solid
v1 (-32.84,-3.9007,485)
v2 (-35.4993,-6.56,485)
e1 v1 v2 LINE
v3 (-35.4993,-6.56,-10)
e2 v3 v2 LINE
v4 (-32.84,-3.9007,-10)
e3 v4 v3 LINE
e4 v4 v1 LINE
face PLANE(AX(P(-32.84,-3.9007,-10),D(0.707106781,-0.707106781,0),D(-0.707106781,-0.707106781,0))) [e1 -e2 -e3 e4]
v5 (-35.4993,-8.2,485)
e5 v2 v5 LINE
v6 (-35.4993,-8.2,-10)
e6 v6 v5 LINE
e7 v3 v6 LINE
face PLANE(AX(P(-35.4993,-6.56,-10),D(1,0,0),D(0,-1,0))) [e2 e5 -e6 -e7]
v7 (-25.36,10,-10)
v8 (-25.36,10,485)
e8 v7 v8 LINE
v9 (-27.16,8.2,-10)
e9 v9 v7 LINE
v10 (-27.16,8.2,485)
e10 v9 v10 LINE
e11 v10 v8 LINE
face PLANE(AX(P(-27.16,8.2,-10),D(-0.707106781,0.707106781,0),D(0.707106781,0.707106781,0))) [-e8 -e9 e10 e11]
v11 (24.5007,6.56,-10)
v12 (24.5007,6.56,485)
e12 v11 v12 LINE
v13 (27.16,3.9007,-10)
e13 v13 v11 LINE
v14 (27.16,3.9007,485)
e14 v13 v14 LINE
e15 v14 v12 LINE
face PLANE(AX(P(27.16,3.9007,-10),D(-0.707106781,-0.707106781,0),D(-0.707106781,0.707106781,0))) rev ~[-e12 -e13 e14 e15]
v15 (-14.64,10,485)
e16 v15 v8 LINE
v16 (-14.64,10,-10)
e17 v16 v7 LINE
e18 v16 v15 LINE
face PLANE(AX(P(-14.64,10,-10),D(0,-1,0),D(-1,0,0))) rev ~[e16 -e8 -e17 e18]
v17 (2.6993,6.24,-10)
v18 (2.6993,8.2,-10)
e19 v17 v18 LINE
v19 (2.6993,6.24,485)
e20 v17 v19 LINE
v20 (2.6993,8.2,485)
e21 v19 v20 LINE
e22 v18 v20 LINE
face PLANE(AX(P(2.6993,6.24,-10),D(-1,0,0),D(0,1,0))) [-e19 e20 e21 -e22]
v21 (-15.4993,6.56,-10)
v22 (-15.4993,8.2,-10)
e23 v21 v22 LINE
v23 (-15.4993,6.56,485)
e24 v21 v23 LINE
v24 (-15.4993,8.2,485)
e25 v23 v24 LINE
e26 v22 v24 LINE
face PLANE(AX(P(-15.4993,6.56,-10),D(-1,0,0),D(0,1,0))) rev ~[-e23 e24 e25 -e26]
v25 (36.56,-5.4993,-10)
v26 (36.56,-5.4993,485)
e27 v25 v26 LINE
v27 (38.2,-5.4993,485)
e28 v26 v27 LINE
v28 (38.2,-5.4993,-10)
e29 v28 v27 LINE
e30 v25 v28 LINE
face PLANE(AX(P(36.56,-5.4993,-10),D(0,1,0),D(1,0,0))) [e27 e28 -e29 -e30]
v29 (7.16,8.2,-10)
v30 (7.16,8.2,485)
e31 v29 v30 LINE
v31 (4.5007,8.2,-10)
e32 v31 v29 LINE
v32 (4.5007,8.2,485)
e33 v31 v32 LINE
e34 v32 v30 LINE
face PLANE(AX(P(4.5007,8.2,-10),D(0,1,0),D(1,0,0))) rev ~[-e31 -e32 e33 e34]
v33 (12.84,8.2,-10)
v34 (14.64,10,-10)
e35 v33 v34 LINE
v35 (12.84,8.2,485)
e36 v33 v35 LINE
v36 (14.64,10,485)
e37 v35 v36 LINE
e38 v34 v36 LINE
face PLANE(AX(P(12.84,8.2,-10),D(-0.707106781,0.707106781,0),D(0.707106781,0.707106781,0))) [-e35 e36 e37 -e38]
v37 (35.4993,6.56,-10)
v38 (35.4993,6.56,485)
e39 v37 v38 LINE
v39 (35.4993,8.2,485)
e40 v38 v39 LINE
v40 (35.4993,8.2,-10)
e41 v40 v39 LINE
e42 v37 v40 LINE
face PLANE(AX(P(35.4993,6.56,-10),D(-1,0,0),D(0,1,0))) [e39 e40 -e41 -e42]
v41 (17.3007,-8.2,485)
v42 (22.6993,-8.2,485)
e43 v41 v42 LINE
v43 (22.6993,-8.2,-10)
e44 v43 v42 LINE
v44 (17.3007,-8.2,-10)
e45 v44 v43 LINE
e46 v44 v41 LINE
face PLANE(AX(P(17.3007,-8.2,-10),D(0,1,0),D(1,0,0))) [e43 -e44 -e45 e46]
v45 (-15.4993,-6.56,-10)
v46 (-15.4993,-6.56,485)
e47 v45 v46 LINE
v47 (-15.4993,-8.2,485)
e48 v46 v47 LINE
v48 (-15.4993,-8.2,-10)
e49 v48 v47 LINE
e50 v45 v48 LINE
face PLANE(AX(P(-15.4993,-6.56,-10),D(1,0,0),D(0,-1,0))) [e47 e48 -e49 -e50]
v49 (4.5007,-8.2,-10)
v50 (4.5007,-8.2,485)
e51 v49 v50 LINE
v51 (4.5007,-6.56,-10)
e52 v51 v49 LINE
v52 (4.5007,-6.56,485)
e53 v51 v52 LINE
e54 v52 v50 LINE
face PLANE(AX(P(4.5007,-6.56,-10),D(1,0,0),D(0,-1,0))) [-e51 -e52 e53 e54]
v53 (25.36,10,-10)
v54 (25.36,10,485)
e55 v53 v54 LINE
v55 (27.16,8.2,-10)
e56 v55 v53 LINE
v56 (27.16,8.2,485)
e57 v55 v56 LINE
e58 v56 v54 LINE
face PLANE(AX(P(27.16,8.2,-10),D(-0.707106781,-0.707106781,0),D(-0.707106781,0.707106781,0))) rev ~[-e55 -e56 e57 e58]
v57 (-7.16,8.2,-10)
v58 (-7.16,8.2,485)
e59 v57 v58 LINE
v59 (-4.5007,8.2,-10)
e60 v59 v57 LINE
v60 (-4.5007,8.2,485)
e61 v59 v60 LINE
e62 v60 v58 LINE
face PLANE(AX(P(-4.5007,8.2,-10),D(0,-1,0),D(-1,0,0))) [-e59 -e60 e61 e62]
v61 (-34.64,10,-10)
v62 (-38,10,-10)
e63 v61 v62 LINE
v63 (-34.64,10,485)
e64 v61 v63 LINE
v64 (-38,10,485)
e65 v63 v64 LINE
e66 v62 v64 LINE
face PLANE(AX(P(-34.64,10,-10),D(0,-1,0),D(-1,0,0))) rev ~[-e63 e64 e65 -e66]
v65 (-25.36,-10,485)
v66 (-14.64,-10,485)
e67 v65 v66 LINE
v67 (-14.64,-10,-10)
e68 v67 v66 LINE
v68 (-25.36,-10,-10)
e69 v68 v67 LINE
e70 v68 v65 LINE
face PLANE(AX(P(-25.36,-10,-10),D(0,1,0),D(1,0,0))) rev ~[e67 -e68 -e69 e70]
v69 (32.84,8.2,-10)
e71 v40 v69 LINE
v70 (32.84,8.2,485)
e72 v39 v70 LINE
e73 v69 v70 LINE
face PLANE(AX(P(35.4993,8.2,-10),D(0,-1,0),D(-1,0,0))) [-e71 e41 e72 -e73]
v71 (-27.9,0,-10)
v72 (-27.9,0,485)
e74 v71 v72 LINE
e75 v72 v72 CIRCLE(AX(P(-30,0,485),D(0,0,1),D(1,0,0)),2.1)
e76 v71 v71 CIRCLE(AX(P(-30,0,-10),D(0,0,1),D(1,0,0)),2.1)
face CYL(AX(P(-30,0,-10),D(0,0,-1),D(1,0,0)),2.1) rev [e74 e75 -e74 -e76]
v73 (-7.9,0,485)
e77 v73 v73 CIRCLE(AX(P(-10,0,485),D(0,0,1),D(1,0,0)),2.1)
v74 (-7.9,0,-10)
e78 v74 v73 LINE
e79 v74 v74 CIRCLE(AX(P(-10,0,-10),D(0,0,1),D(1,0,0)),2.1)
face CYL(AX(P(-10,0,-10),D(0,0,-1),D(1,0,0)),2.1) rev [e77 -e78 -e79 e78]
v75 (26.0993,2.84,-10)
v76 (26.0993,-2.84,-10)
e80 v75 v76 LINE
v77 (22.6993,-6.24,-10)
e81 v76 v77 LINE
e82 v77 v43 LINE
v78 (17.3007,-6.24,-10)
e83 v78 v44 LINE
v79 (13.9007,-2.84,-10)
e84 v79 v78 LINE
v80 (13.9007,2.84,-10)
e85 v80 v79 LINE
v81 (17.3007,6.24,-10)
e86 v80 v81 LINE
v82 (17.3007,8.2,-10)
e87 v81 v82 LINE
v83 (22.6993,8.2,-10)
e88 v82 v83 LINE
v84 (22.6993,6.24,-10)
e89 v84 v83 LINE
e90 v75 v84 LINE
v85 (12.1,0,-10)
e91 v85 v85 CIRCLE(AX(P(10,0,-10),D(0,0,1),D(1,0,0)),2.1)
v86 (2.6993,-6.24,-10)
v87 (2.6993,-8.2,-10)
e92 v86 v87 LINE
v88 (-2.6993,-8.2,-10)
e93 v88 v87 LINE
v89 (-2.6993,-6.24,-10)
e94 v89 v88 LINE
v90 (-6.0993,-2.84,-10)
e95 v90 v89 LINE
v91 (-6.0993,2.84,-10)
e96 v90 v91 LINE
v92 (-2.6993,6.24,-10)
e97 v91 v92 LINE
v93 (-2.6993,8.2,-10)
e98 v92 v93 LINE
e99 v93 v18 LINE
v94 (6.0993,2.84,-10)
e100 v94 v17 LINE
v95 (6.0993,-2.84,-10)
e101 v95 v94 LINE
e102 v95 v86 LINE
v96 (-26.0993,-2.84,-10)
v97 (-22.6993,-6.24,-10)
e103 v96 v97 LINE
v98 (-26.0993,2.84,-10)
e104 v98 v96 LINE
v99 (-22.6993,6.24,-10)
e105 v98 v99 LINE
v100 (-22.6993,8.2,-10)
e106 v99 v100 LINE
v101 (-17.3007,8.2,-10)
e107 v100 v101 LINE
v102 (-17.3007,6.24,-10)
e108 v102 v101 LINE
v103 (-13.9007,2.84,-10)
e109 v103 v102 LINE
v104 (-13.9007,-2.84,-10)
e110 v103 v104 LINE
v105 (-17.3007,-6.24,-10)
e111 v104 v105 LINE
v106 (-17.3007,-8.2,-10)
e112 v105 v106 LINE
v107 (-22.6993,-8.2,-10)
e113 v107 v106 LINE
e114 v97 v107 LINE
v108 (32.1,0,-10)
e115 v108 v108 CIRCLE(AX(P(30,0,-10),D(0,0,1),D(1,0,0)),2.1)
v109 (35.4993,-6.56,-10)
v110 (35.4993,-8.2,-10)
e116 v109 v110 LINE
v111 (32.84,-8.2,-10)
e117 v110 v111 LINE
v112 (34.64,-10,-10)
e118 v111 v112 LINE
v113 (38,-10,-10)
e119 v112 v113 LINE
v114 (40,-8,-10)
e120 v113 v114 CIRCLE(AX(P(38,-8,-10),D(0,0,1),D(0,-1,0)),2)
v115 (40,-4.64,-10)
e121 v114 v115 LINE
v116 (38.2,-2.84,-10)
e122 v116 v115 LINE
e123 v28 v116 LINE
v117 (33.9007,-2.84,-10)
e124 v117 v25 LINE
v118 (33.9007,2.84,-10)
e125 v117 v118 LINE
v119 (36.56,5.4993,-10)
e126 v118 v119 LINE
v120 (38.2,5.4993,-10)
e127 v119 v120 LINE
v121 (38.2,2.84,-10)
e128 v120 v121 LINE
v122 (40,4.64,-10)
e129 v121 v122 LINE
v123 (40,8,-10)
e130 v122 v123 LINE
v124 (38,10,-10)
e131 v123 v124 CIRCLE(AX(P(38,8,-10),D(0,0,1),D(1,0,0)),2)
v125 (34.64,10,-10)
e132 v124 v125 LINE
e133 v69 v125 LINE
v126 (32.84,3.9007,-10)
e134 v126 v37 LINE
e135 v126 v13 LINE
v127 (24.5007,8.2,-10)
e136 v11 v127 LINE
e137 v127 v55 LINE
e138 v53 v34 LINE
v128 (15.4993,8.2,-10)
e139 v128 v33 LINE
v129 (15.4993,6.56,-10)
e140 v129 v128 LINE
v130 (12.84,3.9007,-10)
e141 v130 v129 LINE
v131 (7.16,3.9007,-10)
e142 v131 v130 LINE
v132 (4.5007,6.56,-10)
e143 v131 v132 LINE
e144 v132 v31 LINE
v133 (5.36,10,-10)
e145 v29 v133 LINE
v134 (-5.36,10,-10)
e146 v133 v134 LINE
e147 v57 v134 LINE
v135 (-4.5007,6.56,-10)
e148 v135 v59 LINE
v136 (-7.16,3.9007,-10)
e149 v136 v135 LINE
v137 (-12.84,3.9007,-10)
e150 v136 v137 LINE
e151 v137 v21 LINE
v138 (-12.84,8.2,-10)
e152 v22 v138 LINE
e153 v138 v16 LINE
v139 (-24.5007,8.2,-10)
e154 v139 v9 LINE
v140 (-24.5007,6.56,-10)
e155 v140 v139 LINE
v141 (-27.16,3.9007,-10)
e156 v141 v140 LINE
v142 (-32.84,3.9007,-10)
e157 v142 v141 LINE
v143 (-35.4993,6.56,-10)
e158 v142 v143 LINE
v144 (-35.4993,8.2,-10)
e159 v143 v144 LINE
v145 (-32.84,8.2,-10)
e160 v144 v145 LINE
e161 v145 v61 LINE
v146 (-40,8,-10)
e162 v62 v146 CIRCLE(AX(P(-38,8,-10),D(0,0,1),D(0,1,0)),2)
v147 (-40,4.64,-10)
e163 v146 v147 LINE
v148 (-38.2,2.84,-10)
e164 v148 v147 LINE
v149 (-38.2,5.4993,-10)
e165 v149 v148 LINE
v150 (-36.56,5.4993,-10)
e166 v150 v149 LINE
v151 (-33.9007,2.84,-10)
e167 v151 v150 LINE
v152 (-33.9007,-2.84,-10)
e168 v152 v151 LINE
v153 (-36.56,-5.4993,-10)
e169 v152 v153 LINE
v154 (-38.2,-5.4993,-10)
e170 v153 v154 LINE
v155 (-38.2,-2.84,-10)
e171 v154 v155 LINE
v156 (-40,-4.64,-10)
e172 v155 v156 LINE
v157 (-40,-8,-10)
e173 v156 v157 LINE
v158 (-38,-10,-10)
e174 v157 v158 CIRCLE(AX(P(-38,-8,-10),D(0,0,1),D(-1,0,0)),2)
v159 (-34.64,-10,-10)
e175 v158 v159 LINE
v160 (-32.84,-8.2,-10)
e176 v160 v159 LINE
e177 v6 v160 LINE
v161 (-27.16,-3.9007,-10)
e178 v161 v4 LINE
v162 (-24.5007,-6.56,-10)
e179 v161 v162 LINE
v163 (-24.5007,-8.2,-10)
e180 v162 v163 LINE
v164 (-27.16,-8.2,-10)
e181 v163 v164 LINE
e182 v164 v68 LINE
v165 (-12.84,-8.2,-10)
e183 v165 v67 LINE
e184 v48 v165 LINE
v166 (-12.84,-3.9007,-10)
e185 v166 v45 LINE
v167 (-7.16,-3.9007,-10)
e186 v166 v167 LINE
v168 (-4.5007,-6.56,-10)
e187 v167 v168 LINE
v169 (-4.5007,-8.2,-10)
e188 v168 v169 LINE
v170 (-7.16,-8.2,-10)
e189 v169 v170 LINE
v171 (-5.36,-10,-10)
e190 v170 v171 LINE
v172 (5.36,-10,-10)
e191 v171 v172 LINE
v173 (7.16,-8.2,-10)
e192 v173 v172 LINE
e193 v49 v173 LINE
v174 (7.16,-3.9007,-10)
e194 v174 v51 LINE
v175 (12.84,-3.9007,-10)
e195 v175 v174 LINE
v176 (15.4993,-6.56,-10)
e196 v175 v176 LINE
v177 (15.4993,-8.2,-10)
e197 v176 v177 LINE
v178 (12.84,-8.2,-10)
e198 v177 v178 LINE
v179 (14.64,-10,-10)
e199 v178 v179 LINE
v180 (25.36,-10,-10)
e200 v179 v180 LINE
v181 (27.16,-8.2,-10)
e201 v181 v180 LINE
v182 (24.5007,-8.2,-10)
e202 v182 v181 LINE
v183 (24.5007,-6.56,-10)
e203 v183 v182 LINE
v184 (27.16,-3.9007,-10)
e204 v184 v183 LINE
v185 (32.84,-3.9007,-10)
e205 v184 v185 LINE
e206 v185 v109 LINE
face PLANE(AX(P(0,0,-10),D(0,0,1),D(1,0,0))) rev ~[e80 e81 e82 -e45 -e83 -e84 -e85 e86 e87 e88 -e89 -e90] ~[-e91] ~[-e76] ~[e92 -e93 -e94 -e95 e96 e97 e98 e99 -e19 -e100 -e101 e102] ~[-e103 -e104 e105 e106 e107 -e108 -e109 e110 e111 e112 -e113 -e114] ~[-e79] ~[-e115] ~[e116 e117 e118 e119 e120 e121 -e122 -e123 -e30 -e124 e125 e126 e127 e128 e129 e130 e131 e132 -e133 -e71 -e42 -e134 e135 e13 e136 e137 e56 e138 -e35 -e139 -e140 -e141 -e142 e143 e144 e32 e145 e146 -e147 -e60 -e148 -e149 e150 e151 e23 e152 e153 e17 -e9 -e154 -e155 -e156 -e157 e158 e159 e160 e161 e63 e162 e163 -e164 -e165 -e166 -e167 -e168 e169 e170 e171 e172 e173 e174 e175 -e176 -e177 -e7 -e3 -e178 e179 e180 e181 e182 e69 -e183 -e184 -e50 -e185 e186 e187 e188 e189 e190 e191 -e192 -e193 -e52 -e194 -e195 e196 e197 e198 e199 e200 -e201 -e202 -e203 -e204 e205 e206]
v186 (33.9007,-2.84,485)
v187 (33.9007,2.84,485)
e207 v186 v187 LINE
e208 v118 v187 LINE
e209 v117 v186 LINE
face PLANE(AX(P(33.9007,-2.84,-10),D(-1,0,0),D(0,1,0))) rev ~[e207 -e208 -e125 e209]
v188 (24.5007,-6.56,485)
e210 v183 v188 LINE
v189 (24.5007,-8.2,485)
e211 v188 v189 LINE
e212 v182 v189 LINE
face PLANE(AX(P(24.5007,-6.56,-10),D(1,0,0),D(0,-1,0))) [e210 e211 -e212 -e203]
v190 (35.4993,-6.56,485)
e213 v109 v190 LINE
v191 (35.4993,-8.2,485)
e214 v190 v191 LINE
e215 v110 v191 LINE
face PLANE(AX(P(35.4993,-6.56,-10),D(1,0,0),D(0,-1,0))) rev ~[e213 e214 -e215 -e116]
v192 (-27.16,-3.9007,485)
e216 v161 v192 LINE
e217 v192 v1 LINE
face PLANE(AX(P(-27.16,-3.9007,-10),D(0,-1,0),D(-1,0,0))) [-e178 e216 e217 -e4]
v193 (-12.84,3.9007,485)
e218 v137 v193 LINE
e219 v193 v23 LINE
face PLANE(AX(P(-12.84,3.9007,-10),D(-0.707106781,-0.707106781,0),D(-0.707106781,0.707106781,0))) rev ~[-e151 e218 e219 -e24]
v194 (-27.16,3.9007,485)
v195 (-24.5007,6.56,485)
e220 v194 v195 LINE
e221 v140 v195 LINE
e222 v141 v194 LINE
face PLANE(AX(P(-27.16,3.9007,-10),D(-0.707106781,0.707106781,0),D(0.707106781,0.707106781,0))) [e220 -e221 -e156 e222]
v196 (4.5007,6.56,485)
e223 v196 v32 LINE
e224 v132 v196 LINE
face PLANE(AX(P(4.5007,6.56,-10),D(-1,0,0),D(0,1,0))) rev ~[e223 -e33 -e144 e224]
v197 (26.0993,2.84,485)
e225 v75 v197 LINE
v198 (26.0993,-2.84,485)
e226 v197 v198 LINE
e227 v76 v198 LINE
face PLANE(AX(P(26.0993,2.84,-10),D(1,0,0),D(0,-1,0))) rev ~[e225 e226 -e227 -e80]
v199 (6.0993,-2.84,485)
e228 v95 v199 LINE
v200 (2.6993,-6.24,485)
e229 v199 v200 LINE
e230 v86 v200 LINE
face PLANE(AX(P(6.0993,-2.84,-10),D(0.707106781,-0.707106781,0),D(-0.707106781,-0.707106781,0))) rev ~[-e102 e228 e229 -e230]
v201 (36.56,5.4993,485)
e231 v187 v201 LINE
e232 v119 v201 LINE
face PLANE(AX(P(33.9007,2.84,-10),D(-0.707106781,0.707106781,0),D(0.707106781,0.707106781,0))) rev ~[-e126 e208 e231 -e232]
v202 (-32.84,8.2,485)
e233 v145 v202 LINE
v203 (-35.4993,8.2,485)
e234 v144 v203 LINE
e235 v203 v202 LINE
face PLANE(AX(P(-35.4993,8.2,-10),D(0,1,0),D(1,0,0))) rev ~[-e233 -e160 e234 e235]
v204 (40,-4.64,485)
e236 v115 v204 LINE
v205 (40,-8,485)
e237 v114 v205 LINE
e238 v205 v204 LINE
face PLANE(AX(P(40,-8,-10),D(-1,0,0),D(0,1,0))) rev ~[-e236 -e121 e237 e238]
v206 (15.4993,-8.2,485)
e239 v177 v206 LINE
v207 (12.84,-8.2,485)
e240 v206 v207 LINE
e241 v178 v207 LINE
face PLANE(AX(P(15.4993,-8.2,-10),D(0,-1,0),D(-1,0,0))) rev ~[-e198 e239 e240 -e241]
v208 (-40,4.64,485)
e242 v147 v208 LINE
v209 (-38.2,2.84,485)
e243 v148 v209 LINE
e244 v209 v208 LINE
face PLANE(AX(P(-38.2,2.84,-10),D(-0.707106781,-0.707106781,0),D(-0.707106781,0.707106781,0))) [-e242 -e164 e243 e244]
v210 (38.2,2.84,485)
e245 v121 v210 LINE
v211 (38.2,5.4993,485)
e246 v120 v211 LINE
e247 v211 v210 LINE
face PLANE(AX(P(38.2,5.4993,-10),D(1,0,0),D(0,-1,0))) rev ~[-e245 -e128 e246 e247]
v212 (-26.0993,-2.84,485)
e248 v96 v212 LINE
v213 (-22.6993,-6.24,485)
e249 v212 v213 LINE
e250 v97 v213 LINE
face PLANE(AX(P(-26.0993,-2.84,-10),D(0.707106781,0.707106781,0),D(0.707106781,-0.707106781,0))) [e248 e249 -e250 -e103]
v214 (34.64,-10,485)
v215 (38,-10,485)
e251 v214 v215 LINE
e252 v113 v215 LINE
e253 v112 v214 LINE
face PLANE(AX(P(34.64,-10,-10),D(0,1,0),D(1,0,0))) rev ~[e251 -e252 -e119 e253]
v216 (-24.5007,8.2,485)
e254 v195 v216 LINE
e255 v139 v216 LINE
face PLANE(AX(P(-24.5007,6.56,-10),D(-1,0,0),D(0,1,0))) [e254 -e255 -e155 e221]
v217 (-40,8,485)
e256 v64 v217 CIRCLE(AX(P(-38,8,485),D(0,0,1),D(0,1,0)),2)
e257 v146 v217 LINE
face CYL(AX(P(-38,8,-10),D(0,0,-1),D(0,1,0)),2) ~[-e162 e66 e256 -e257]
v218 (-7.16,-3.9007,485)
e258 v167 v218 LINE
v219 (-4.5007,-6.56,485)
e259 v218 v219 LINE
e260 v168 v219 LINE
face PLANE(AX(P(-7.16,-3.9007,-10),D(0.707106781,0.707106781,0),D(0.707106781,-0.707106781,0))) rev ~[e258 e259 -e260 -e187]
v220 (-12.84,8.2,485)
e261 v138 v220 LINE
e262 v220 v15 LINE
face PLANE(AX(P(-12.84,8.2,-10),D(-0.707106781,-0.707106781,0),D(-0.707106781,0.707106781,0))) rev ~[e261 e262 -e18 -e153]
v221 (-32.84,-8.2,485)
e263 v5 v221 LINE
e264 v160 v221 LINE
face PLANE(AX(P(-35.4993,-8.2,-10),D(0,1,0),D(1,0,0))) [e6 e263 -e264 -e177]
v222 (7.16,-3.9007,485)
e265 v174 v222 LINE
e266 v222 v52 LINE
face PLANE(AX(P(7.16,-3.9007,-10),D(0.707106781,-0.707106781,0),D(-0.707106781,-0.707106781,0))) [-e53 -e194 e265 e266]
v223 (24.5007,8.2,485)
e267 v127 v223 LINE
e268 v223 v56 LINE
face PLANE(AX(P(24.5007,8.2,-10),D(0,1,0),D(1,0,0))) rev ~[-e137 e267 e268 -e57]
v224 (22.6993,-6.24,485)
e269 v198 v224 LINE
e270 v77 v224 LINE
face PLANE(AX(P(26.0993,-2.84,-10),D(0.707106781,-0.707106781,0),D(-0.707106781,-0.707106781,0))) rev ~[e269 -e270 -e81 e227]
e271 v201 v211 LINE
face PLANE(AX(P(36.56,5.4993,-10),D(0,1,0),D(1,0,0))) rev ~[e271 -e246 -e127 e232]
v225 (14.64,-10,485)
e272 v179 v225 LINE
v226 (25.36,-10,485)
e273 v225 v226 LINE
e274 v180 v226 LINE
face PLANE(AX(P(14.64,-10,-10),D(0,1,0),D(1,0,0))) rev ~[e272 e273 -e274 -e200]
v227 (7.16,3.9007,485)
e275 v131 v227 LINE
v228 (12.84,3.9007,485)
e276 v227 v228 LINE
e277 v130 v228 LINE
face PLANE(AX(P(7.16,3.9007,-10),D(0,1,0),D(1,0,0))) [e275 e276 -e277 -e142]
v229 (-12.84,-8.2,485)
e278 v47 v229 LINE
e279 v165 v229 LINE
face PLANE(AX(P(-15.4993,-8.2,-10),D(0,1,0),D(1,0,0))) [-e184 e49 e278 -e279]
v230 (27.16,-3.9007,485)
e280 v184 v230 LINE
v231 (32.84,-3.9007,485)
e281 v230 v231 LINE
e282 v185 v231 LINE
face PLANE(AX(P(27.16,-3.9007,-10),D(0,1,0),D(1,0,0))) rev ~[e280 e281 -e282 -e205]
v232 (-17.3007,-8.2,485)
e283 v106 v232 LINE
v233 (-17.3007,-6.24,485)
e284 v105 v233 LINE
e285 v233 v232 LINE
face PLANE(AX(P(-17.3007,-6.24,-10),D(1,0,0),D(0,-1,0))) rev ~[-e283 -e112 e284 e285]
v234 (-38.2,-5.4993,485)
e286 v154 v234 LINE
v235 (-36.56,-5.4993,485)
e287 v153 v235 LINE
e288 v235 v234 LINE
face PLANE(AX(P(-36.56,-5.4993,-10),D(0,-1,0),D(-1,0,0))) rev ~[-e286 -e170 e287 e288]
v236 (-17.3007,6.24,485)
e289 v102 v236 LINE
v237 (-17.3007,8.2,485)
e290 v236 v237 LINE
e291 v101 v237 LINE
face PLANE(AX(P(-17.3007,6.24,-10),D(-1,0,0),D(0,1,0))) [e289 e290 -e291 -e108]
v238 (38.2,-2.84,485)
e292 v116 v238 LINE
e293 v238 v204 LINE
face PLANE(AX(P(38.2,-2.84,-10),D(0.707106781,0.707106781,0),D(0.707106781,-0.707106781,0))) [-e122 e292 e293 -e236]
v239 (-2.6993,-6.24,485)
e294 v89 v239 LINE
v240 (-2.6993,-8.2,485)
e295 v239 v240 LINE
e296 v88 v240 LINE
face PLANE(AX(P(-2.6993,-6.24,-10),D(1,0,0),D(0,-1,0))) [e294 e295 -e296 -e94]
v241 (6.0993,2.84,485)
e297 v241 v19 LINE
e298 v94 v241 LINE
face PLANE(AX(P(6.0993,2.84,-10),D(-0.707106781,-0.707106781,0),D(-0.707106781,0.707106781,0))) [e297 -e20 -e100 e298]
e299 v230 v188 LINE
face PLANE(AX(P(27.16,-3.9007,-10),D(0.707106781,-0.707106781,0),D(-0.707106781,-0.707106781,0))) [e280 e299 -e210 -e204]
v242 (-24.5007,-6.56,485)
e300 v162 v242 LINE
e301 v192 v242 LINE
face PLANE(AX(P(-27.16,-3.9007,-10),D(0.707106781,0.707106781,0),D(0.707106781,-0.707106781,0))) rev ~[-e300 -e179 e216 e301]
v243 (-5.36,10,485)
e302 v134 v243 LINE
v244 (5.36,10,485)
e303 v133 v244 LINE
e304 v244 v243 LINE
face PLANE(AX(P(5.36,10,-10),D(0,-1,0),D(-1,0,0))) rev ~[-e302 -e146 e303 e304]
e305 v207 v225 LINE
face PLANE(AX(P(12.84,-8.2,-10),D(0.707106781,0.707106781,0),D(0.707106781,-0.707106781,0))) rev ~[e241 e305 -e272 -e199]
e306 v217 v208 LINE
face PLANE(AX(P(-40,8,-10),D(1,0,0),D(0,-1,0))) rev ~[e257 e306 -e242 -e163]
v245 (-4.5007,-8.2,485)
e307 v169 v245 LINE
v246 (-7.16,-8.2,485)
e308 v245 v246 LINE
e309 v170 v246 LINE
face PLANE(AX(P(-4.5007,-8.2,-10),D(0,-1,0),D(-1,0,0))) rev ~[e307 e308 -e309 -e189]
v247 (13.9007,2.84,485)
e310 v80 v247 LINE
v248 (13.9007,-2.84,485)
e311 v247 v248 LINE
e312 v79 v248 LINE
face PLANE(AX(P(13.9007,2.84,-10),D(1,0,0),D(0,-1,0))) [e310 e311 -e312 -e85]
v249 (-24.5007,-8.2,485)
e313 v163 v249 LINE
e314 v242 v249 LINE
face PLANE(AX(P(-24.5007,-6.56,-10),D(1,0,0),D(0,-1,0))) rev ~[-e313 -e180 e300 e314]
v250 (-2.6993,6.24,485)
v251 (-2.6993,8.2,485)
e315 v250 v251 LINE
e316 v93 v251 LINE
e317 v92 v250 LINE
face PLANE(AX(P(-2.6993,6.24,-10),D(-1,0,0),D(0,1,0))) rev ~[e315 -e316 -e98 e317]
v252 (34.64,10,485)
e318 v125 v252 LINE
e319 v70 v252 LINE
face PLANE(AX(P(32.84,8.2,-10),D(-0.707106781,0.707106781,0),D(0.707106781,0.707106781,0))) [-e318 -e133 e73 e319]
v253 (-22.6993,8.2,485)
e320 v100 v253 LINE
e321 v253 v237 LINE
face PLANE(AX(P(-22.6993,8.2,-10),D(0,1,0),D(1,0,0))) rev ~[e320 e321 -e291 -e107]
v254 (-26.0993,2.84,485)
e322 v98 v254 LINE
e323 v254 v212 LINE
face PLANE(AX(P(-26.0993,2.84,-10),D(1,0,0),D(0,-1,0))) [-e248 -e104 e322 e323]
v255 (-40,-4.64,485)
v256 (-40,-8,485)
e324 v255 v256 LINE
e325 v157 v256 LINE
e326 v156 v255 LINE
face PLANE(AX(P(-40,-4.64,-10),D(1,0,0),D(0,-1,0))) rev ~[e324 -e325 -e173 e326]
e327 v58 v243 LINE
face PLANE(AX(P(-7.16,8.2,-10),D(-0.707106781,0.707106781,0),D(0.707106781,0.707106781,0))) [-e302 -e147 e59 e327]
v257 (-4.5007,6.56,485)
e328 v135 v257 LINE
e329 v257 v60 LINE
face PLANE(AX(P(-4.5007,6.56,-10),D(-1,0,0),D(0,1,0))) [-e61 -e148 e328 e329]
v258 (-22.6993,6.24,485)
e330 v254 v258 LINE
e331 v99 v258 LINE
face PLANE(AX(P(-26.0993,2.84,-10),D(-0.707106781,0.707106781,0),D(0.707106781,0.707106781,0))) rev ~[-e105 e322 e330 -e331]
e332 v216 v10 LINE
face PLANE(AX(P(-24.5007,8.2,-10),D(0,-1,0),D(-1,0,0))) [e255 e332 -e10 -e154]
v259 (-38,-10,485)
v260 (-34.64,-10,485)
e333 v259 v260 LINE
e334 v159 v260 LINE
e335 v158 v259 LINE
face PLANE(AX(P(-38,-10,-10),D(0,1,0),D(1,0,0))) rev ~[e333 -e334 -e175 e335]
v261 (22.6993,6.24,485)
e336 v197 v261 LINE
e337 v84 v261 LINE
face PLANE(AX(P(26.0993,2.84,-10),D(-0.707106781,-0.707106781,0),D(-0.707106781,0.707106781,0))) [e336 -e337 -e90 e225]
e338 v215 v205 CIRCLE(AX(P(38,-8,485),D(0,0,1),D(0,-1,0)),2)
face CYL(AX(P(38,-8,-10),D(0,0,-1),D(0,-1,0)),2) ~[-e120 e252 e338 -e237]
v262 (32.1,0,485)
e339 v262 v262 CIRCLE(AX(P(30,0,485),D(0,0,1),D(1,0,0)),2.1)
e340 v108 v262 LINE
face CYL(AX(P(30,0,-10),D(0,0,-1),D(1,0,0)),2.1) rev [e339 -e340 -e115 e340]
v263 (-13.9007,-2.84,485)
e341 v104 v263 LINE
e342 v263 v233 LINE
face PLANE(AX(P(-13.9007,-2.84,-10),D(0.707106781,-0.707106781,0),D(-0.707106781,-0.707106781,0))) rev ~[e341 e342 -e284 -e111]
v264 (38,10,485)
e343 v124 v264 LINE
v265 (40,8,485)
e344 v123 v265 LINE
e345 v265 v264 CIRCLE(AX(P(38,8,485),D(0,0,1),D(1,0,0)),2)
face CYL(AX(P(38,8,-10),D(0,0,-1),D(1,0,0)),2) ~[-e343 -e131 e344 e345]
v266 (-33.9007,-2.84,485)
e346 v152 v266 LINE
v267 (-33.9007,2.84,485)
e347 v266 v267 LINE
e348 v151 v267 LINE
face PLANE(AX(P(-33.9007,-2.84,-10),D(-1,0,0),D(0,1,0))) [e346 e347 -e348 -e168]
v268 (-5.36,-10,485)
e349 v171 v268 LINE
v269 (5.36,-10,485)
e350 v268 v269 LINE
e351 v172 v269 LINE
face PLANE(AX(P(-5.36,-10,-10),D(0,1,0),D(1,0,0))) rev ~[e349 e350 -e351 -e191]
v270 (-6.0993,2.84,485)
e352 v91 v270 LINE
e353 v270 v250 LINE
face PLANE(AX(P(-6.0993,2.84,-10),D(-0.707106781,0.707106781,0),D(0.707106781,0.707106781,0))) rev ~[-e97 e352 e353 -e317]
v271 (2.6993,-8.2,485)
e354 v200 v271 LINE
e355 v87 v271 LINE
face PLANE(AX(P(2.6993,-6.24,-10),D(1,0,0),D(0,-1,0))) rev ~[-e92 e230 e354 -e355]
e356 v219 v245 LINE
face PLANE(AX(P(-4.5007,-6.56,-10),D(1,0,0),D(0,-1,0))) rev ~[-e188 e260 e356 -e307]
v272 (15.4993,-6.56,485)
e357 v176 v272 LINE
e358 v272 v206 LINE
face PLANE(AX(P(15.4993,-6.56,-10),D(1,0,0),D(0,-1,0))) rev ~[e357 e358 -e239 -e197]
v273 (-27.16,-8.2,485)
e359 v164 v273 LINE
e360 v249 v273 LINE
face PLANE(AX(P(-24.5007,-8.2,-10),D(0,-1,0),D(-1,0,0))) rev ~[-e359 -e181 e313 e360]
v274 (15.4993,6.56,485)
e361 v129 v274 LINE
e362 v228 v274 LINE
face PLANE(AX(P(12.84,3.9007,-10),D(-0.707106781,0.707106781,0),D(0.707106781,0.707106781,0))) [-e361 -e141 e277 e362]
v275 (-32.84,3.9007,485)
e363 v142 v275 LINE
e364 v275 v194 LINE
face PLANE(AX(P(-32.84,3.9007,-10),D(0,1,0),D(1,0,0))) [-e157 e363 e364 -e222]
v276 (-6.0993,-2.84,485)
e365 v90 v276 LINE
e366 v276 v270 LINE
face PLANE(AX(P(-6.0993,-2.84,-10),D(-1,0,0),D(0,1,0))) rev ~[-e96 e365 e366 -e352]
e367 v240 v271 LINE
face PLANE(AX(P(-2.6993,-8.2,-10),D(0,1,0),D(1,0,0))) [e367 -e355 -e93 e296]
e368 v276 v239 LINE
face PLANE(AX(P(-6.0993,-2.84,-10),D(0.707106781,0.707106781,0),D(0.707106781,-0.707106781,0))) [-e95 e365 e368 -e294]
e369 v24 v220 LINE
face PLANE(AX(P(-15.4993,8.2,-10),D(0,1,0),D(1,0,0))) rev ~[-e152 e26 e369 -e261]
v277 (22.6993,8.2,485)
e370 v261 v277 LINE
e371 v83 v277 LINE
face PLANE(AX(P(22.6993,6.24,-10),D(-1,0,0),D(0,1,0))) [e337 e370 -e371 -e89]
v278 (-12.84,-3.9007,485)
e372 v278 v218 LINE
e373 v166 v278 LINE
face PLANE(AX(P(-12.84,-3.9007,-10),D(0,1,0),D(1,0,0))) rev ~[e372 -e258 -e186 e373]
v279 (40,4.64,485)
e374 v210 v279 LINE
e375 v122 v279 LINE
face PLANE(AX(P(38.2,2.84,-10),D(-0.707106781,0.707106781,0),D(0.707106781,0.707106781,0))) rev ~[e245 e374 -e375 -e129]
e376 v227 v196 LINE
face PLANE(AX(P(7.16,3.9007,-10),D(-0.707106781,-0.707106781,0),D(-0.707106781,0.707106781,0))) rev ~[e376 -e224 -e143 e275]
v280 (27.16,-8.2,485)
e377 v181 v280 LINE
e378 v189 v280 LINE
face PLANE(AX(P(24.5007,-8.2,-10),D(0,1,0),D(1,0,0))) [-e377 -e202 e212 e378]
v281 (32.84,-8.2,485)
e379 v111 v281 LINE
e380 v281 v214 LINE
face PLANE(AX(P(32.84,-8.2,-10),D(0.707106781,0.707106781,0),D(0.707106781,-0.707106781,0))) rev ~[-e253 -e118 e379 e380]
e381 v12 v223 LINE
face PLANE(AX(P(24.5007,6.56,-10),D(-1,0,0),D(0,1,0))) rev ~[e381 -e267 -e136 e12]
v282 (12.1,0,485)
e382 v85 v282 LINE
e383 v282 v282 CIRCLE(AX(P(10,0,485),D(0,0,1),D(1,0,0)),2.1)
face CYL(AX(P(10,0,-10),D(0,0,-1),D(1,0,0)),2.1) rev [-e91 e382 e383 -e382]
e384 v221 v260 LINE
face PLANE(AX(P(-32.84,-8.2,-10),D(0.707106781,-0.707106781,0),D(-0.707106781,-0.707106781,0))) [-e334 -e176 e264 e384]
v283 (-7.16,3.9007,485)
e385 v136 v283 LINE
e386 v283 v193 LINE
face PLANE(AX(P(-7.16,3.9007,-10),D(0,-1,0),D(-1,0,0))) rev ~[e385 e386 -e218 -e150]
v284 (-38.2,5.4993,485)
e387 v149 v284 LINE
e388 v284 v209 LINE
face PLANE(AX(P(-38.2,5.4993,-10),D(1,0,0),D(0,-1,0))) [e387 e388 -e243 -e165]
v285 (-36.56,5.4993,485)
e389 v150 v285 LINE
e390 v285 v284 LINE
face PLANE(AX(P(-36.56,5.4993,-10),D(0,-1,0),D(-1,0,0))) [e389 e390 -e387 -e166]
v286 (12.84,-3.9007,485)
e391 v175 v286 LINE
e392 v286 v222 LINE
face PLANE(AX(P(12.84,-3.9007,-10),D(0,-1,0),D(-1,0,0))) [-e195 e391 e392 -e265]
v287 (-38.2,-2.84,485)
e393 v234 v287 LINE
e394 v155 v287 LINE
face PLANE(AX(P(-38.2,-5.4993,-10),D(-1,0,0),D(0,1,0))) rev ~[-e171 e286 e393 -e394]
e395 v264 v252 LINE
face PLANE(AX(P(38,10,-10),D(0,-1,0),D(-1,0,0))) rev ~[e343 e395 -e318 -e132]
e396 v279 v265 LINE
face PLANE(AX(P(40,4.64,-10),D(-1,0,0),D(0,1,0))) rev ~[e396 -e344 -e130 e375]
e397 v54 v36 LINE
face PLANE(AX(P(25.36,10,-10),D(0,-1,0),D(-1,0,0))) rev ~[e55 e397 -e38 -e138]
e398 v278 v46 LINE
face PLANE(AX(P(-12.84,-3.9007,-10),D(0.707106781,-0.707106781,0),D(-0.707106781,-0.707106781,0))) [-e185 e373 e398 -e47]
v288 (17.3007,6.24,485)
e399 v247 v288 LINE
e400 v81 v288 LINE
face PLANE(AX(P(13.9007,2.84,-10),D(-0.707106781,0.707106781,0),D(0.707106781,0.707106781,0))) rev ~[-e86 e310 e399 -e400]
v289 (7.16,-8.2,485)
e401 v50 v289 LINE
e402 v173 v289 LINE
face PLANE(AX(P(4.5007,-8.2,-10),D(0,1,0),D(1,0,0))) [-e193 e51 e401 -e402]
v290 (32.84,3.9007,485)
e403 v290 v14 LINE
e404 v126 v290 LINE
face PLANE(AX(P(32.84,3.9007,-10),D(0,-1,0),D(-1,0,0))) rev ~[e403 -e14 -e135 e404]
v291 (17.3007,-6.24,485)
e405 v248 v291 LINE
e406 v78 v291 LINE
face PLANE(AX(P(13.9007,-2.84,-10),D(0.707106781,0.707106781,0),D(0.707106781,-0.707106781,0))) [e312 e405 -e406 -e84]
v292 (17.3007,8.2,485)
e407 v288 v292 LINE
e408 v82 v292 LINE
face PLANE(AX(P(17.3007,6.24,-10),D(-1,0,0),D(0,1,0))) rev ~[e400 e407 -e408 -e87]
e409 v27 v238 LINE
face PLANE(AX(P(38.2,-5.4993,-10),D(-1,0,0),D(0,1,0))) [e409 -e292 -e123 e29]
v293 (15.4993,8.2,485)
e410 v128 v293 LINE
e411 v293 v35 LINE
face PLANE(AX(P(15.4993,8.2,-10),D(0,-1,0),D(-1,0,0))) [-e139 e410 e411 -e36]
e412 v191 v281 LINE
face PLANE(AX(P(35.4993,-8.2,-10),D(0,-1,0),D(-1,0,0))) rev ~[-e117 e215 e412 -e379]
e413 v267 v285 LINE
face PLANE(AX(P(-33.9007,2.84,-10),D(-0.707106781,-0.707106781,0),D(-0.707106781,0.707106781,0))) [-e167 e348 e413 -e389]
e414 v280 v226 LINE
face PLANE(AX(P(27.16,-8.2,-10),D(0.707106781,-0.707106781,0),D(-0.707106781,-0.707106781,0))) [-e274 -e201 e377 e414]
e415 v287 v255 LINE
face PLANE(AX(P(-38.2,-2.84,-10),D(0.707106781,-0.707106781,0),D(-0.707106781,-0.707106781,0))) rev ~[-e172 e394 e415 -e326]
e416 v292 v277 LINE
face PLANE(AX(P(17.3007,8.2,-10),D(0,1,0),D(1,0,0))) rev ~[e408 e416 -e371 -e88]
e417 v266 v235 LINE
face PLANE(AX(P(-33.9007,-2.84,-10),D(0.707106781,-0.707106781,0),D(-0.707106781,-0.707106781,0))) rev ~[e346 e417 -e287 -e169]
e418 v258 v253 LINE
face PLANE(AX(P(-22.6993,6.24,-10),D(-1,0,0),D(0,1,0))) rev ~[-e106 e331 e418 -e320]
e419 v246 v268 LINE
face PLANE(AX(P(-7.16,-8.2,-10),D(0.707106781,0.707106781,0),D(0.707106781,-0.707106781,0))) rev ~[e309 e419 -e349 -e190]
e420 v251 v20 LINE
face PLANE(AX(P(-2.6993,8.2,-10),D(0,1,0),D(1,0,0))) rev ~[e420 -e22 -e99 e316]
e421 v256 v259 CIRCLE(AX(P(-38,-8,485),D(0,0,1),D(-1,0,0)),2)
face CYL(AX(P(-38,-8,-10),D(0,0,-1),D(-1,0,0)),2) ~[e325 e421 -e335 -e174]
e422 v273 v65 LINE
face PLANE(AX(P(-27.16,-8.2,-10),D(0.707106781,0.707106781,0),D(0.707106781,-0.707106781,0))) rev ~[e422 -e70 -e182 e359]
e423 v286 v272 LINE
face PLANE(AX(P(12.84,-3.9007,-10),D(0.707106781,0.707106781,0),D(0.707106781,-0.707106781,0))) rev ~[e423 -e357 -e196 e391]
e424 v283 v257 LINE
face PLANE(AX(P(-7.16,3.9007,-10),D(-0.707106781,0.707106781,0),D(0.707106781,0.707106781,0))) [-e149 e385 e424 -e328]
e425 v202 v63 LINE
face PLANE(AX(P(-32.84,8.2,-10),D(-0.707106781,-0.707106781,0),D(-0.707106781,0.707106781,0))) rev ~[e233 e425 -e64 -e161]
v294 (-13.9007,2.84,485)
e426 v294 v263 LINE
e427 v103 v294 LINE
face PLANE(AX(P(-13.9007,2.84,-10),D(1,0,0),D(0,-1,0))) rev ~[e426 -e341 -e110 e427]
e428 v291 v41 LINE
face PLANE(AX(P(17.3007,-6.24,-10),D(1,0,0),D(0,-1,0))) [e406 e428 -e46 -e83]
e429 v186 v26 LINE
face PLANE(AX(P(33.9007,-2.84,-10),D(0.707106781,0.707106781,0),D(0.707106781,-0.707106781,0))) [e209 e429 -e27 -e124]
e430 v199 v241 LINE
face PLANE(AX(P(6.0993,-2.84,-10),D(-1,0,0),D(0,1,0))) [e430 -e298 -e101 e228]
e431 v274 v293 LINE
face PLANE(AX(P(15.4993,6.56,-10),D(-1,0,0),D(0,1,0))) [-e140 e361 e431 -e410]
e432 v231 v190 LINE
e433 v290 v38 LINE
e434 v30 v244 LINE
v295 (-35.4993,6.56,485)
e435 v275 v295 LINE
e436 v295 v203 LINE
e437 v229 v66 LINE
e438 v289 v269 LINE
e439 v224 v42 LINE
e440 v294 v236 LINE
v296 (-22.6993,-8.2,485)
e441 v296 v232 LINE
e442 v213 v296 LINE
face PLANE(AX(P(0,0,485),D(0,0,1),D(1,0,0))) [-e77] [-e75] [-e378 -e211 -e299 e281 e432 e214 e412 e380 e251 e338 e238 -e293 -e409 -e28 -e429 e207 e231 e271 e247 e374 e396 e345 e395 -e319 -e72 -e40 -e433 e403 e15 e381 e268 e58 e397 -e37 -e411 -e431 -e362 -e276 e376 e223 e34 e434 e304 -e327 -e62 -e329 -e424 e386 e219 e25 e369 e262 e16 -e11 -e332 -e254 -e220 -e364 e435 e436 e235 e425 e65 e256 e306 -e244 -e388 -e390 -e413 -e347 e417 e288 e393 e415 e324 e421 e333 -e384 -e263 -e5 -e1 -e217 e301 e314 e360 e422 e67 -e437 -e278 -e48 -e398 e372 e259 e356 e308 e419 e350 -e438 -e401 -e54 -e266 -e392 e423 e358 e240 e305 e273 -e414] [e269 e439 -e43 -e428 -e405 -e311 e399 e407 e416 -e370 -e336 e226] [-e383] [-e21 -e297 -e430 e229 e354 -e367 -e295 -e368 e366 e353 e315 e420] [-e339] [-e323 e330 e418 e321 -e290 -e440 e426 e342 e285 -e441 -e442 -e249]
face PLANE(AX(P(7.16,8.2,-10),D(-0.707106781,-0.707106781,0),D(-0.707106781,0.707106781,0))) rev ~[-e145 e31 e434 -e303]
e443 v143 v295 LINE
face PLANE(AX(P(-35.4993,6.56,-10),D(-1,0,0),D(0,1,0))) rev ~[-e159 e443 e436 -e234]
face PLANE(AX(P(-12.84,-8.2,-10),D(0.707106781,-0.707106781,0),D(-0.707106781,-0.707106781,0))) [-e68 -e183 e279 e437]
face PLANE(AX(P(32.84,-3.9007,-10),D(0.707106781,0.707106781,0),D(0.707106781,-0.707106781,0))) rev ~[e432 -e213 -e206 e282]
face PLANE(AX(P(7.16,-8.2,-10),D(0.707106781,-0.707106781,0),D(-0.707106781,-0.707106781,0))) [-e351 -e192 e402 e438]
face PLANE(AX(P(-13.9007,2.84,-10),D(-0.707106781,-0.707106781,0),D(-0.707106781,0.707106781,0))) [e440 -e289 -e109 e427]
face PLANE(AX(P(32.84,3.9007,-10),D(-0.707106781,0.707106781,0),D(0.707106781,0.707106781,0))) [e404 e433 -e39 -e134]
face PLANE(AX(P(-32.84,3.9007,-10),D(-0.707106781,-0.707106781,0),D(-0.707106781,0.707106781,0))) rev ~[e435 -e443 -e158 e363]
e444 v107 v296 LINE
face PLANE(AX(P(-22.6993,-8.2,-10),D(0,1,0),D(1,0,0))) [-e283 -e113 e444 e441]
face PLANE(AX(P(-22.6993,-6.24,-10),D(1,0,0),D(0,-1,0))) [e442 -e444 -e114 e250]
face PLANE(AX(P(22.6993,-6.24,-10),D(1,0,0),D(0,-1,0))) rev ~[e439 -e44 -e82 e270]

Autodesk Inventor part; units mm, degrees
ref_plane "Start Plane" through (0, 0, -10) normal (0, 0, 1) x (1, 0, 0)
ref_plane "End Plane" through (0, 0, 485) normal (0, 0, 1) x (1, 0, 0)
sketch "Sketch" plane through (0, 0, 0) normal (0, 0, 1) x (1, 0, 0)
  line L0 (0, 0) -> (0, 10) construction
  line L1 (0, 10) -> (-10, 10) construction
  line L2 (-10, 10) -> (-10, 0) construction
  line L3 (-10, 10) -> (-20, 10) construction
  line L4 (-20, 10) -> (-20, 0) construction
  circle A0 centre (-10, 0) radius 2.1
  line L5 (-13.9007, -3.9007) -> (-6.0993, -3.9007) construction
  line L6 (-6.0993, -3.9007) -> (-6.0993, 3.9007) construction
  line L7 (-6.0993, 3.9007) -> (-13.9007, 3.9007) construction
  line L8 (-13.9007, 3.9007) -> (-13.9007, -3.9007) construction
  line L9 (-13.9007, -3.9007) -> (-6.0993, 3.9007) construction
  line L10 (-6.0993, -3.9007) -> (-13.9007, 3.9007) construction
  line L11 (-13.9007, -2.84) -> (-12.84, -3.9007) construction
  line L12 (-13.9007, -2.84) -> (-12.4007, -2.84) construction
  line L13 (0, 0) -> (-10, 0) construction
  line L14 (-12.84, -3.9007) -> (-15.4993, -6.56)
  line L15 (-15.4993, -6.56) -> (-15.4993, -8.2)
  line L16 (-15.4993, -8.2) -> (-12.84, -8.2)
  line L17 (-12.84, -8.2) -> (-14.64, -10)
  line L18 (-7.16, -3.9007) -> (-4.5007, -6.56)
  line L19 (-4.5007, -6.56) -> (-4.5007, -8.2)
  line L20 (-4.5007, -8.2) -> (-7.16, -8.2)
  line L21 (-7.16, -8.2) -> (-5.36, -10)
  line L22 (-12.84, 3.9007) -> (-15.4993, 6.56)
  line L23 (-15.4993, 6.56) -> (-15.4993, 8.2)
  line L24 (-15.4993, 8.2) -> (-12.84, 8.2)
  line L25 (-12.84, 8.2) -> (-14.64, 10)
  line L26 (-7.16, 3.9007) -> (-4.5007, 6.56)
  line L27 (-4.5007, 6.56) -> (-4.5007, 8.2)
  line L28 (-4.5007, 8.2) -> (-7.16, 8.2)
  line L29 (-7.16, 8.2) -> (-5.36, 10)
  line L30 (-20, -8.2) -> (-15.4993, -8.2) construction
  line L31 (-13.9007, -2.84) -> (-17.3007, -6.24)
  line L32 (-17.3007, -6.24) -> (-17.3007, -8.2)
  line L33 (-13.9007, 2.84) -> (-17.3007, 6.24)
  line L34 (-17.3007, 6.24) -> (-17.3007, 8.2)
  line L35 (-6.0993, -2.84) -> (-2.6993, -6.24)
  line L36 (-2.6993, -6.24) -> (-2.6993, -8.2)
  line L37 (-2.6993, 6.24) -> (-2.6993, 8.2)
  line L38 (-6.0993, 2.84) -> (-2.6993, 6.24)
  line L39 (-12.84, -3.9007) -> (-7.16, -3.9007)
  line L40 (-6.0993, -2.84) -> (-6.0993, 2.84)
  line L41 (-7.16, 3.9007) -> (-12.84, 3.9007)
  line L42 (-13.9007, 2.84) -> (-13.9007, -2.84)
  line L43 (-30, 10) -> (-30, 0) construction
  circle A1 centre (-30, 0) radius 2.1
  line L44 (-26.0993, -3.9007) -> (-33.9007, -3.9007) construction
  line L45 (-33.9007, -3.9007) -> (-33.9007, 3.9007) construction
  line L46 (-33.9007, 3.9007) -> (-26.0993, 3.9007) construction
  line L47 (-26.0993, 3.9007) -> (-26.0993, -3.9007) construction
  line L48 (-26.0993, -3.9007) -> (-33.9007, 3.9007) construction
  line L49 (-33.9007, -3.9007) -> (-26.0993, 3.9007) construction
  line L50 (-26.0993, -2.84) -> (-27.16, -3.9007) construction
  line L51 (-26.0993, -2.84) -> (-27.5993, -2.84) construction
  line L52 (-27.16, -3.9007) -> (-24.5007, -6.56)
  line L53 (-24.5007, -6.56) -> (-24.5007, -8.2)
  line L54 (-24.5007, -8.2) -> (-27.16, -8.2)
  line L55 (-27.16, -8.2) -> (-25.36, -10)
  line L56 (-32.84, -3.9007) -> (-35.4993, -6.56)
  line L57 (-35.4993, -6.56) -> (-35.4993, -8.2)
  line L58 (-35.4993, -8.2) -> (-32.84, -8.2)
  line L59 (-32.84, -8.2) -> (-34.64, -10)
  line L60 (-27.16, 3.9007) -> (-24.5007, 6.56)
  line L61 (-24.5007, 6.56) -> (-24.5007, 8.2)
  line L62 (-24.5007, 8.2) -> (-27.16, 8.2)
  line L63 (-27.16, 8.2) -> (-25.36, 10)
  line L64 (-32.84, 8.2) -> (-34.64, 10)
  line L65 (-35.4993, 8.2) -> (-32.84, 8.2)
  line L66 (-35.4993, 6.56) -> (-35.4993, 8.2)
  line L67 (-32.84, 3.9007) -> (-35.4993, 6.56)
  line L68 (-26.0993, -2.84) -> (-22.6993, -6.24)
  line L69 (-22.6993, -6.24) -> (-22.6993, -8.2)
  line L70 (-22.6993, 6.24) -> (-22.6993, 8.2)
  line L71 (-26.0993, 2.84) -> (-22.6993, 6.24)
  line L72 (-27.16, -3.9007) -> (-32.84, -3.9007)
  line L73 (-33.9007, -2.84) -> (-33.9007, 2.84)
  line L74 (-32.84, 3.9007) -> (-27.16, 3.9007)
  line L75 (-26.0993, 2.84) -> (-26.0993, -2.84)
  line L76 (-38.2, -2.84) -> (-40, -4.64)
  line L77 (-36.56, -5.4993) -> (-38.2, -5.4993)
  line L78 (-38.2, -5.4993) -> (-38.2, -2.84)
  line L79 (-33.9007, -2.84) -> (-36.56, -5.4993)
  line L80 (-33.9007, 2.84) -> (-36.56, 5.4993)
  line L81 (-36.56, 5.4993) -> (-38.2, 5.4993)
  line L82 (-38.2, 2.84) -> (-40, 4.64)
  line L83 (-38.2, 5.4993) -> (-38.2, 2.84)
  line L84 (10, 10) -> (10, 0) construction
  line L85 (10, 10) -> (20, 10) construction
  line L86 (20, 10) -> (20, 0) construction
  circle A2 centre (10, 0) radius 2.1
  line L87 (13.9007, -3.9007) -> (6.0993, -3.9007) construction
  line L88 (6.0993, -3.9007) -> (6.0993, 3.9007) construction
  line L89 (6.0993, 3.9007) -> (13.9007, 3.9007) construction
  line L90 (13.9007, 3.9007) -> (13.9007, -3.9007) construction
  line L91 (13.9007, -3.9007) -> (6.0993, 3.9007) construction
  line L92 (6.0993, -3.9007) -> (13.9007, 3.9007) construction
  line L93 (13.9007, -2.84) -> (12.84, -3.9007) construction
  line L94 (13.9007, -2.84) -> (12.4007, -2.84) construction
  line L95 (12.84, -3.9007) -> (15.4993, -6.56)
  line L96 (15.4993, -6.56) -> (15.4993, -8.2)
  line L97 (15.4993, -8.2) -> (12.84, -8.2)
  line L98 (12.84, -8.2) -> (14.64, -10)
  line L99 (7.16, -3.9007) -> (4.5007, -6.56)
  line L100 (4.5007, -6.56) -> (4.5007, -8.2)
  line L101 (4.5007, -8.2) -> (7.16, -8.2)
  line L102 (7.16, -8.2) -> (5.36, -10)
  line L103 (12.84, 3.9007) -> (15.4993, 6.56)
  line L104 (15.4993, 6.56) -> (15.4993, 8.2)
  line L105 (15.4993, 8.2) -> (12.84, 8.2)
  line L106 (12.84, 8.2) -> (14.64, 10)
  line L107 (7.16, 8.2) -> (5.36, 10)
  line L108 (4.5007, 8.2) -> (7.16, 8.2)
  line L109 (4.5007, 6.56) -> (4.5007, 8.2)
  line L110 (7.16, 3.9007) -> (4.5007, 6.56)
  line L111 (20, -8.2) -> (15.4993, -8.2) construction
  line L112 (13.9007, -2.84) -> (17.3007, -6.24)
  line L113 (17.3007, -6.24) -> (17.3007, -8.2)
  line L114 (17.3007, 6.24) -> (17.3007, 8.2)
  line L115 (13.9007, 2.84) -> (17.3007, 6.24)
  line L116 (2.6993, 6.24) -> (2.6993, 8.2)
  line L117 (6.0993, 2.84) -> (2.6993, 6.24)
  line L118 (6.0993, -2.84) -> (2.6993, -6.24)
  line L119 (2.6993, -6.24) -> (2.6993, -8.2)
  line L120 (12.84, -3.9007) -> (7.16, -3.9007)
  line L121 (6.0993, -2.84) -> (6.0993, 2.84)
  line L122 (7.16, 3.9007) -> (12.84, 3.9007)
  line L123 (13.9007, 2.84) -> (13.9007, -2.84)
  line L124 (32.84, 3.9007) -> (35.4993, 6.56)
  line L125 (30, 10) -> (30, 0) construction
  line L126 (35.4993, 6.56) -> (35.4993, 8.2)
  line L127 (35.4993, 8.2) -> (32.84, 8.2)
  line L128 (32.84, 8.2) -> (34.64, 10)
  line L129 (32.84, -8.2) -> (34.64, -10)
  line L130 (35.4993, -6.56) -> (35.4993, -8.2)
  line L131 (35.4993, -8.2) -> (32.84, -8.2)
  line L132 (32.84, -3.9007) -> (35.4993, -6.56)
  line L133 (26.0993, 2.84) -> (26.0993, -2.84)
  line L134 (32.84, 3.9007) -> (27.16, 3.9007)
  line L135 (33.9007, -2.84) -> (33.9007, 2.84)
  line L136 (27.16, -3.9007) -> (32.84, -3.9007)
  line L137 (27.16, 3.9007) -> (24.5007, 6.56)
  line L138 (33.9007, 3.9007) -> (26.0993, 3.9007) construction
  circle A3 centre (30, 0) radius 2.1
  line L139 (26.0993, 3.9007) -> (26.0993, -3.9007) construction
  line L140 (26.0993, -3.9007) -> (33.9007, -3.9007) construction
  line L141 (26.0993, -3.9007) -> (33.9007, 3.9007) construction
  line L142 (33.9007, -3.9007) -> (26.0993, 3.9007) construction
  line L143 (33.9007, -3.9007) -> (33.9007, 3.9007) construction
  line L144 (26.0993, -2.84) -> (27.5993, -2.84) construction
  line L145 (27.16, -8.2) -> (25.36, -10)
  line L146 (26.0993, -2.84) -> (27.16, -3.9007) construction
  line L147 (27.16, -3.9007) -> (24.5007, -6.56)
  line L148 (24.5007, -8.2) -> (27.16, -8.2)
  line L149 (24.5007, -6.56) -> (24.5007, -8.2)
  line L150 (26.0993, -2.84) -> (22.6993, -6.24)
  line L151 (22.6993, -6.24) -> (22.6993, -8.2)
  line L152 (26.0993, 2.84) -> (22.6993, 6.24)
  line L153 (24.5007, 8.2) -> (27.16, 8.2)
  line L154 (24.5007, 6.56) -> (24.5007, 8.2)
  line L155 (22.6993, 6.24) -> (22.6993, 8.2)
  line L156 (27.16, 8.2) -> (25.36, 10)
  line L157 (33.9007, -2.84) -> (36.56, -5.4993)
  line L158 (36.56, -5.4993) -> (38.2, -5.4993)
  line L159 (38.2, -2.84) -> (40, -4.64)
  line L160 (38.2, -5.4993) -> (38.2, -2.84)
  line L161 (33.9007, 2.84) -> (36.56, 5.4993)
  line L162 (36.56, 5.4993) -> (38.2, 5.4993)
  line L163 (38.2, 5.4993) -> (38.2, 2.84)
  line L164 (38.2, 2.84) -> (40, 4.64)
  line L165 (-25.36, -10) -> (-14.64, -10)
  line L166 (-5.36, -10) -> (5.36, -10)
  line L167 (14.64, -10) -> (25.36, -10)
  line L168 (34.64, -10) -> (38, -10)
  line L169 (40, -8) -> (40, -4.64)
  line L170 (40, 4.64) -> (40, 8)
  line L171 (38, 10) -> (34.64, 10)
  line L172 (25.36, 10) -> (14.64, 10)
  line L173 (5.36, 10) -> (-5.36, 10)
  line L174 (-14.64, 10) -> (-25.36, 10)
  line L175 (-34.64, 10) -> (-38, 10)
  line L176 (-40, 8) -> (-40, 4.64)
  line L177 (-40, -4.64) -> (-40, -8)
  line L178 (-38, -10) -> (-34.64, -10)
  line L179 (-22.6993, 8.2) -> (-17.3007, 8.2)
  line L180 (-22.6993, -8.2) -> (-17.3007, -8.2)
  line L181 (-2.6993, 8.2) -> (2.6993, 8.2)
  line L182 (-2.6993, -8.2) -> (2.6993, -8.2)
  line L183 (17.3007, 8.2) -> (22.6993, 8.2)
  line L184 (17.3007, -8.2) -> (22.6993, -8.2)
  arc A4 (-40, -8) -> (-38, -10) centre (-38, -8) ccw
  arc A5 (-38, 10) -> (-40, 8) centre (-38, 8) ccw
  arc A6 (38, -10) -> (40, -8) centre (38, -8) ccw
  arc A7 (40, 8) -> (38, 10) centre (38, 8) ccw
  dimension "d0" = 10
  dimension "d1" = 10
  dimension "d2" = 10
  dimension "d3" = 4.2
  dimension "d4" = 1.5
  dimension "d5" = 45
  dimension "d6" = 1.64
  dimension "d7" = 1.8
  dimension "d8" = 10
  dimension "d9" = 2.84
  dimension "d11" = 135
  dimension "d12" = 1.96
  dimension "d13" = 5.68
  dimension "d14" = 2
extrude "Body" add sketch "Sketch" along normal up to surface (495 mm away) from surface at -10
sketch "Sketch10" plane through (0, 0, 0) normal (0, 0, 1) x (1, 0, 0)
  line L0 (0, 0) -> (10, 0)
ref_plane "Work Plane7" through (0, 0, 0) normal (0, -1, 0) x (1, 0, 0)
sketch "Sketch11" plane through (0, 0, 0) normal (0, -1, 0) x (1, 0, 0)
  line L0 (-2, -10) -> (12, -10)
  line L1 (-2, 485) -> (12, 485)
  dimension "d22" = 495
ref_plane "Work Plane8" through (-235, 4.5951, -10) normal (0, 0, -1) x (-1, 0, 0)
split "Split1" plane through (-235, 4.5951, -10) removes the side toward (0, 0, -1)
ref_plane "Work Plane9" through (40, 4.5951, 485) normal (0, 0, 1) x (1, 0, 0)
split "Split2" plane through (40, 4.5951, 485) removes the side toward (0, 0, 1)
equation "\"d18\" = Length + G_OFFSET_END"
equation "\"G_L\" = d22"
equation "\"Length\" = 475"
equation "\"G_OFFSET_END\" = 10"
properties part number "vslot 20 x 80" material "Aluminum 6061"
